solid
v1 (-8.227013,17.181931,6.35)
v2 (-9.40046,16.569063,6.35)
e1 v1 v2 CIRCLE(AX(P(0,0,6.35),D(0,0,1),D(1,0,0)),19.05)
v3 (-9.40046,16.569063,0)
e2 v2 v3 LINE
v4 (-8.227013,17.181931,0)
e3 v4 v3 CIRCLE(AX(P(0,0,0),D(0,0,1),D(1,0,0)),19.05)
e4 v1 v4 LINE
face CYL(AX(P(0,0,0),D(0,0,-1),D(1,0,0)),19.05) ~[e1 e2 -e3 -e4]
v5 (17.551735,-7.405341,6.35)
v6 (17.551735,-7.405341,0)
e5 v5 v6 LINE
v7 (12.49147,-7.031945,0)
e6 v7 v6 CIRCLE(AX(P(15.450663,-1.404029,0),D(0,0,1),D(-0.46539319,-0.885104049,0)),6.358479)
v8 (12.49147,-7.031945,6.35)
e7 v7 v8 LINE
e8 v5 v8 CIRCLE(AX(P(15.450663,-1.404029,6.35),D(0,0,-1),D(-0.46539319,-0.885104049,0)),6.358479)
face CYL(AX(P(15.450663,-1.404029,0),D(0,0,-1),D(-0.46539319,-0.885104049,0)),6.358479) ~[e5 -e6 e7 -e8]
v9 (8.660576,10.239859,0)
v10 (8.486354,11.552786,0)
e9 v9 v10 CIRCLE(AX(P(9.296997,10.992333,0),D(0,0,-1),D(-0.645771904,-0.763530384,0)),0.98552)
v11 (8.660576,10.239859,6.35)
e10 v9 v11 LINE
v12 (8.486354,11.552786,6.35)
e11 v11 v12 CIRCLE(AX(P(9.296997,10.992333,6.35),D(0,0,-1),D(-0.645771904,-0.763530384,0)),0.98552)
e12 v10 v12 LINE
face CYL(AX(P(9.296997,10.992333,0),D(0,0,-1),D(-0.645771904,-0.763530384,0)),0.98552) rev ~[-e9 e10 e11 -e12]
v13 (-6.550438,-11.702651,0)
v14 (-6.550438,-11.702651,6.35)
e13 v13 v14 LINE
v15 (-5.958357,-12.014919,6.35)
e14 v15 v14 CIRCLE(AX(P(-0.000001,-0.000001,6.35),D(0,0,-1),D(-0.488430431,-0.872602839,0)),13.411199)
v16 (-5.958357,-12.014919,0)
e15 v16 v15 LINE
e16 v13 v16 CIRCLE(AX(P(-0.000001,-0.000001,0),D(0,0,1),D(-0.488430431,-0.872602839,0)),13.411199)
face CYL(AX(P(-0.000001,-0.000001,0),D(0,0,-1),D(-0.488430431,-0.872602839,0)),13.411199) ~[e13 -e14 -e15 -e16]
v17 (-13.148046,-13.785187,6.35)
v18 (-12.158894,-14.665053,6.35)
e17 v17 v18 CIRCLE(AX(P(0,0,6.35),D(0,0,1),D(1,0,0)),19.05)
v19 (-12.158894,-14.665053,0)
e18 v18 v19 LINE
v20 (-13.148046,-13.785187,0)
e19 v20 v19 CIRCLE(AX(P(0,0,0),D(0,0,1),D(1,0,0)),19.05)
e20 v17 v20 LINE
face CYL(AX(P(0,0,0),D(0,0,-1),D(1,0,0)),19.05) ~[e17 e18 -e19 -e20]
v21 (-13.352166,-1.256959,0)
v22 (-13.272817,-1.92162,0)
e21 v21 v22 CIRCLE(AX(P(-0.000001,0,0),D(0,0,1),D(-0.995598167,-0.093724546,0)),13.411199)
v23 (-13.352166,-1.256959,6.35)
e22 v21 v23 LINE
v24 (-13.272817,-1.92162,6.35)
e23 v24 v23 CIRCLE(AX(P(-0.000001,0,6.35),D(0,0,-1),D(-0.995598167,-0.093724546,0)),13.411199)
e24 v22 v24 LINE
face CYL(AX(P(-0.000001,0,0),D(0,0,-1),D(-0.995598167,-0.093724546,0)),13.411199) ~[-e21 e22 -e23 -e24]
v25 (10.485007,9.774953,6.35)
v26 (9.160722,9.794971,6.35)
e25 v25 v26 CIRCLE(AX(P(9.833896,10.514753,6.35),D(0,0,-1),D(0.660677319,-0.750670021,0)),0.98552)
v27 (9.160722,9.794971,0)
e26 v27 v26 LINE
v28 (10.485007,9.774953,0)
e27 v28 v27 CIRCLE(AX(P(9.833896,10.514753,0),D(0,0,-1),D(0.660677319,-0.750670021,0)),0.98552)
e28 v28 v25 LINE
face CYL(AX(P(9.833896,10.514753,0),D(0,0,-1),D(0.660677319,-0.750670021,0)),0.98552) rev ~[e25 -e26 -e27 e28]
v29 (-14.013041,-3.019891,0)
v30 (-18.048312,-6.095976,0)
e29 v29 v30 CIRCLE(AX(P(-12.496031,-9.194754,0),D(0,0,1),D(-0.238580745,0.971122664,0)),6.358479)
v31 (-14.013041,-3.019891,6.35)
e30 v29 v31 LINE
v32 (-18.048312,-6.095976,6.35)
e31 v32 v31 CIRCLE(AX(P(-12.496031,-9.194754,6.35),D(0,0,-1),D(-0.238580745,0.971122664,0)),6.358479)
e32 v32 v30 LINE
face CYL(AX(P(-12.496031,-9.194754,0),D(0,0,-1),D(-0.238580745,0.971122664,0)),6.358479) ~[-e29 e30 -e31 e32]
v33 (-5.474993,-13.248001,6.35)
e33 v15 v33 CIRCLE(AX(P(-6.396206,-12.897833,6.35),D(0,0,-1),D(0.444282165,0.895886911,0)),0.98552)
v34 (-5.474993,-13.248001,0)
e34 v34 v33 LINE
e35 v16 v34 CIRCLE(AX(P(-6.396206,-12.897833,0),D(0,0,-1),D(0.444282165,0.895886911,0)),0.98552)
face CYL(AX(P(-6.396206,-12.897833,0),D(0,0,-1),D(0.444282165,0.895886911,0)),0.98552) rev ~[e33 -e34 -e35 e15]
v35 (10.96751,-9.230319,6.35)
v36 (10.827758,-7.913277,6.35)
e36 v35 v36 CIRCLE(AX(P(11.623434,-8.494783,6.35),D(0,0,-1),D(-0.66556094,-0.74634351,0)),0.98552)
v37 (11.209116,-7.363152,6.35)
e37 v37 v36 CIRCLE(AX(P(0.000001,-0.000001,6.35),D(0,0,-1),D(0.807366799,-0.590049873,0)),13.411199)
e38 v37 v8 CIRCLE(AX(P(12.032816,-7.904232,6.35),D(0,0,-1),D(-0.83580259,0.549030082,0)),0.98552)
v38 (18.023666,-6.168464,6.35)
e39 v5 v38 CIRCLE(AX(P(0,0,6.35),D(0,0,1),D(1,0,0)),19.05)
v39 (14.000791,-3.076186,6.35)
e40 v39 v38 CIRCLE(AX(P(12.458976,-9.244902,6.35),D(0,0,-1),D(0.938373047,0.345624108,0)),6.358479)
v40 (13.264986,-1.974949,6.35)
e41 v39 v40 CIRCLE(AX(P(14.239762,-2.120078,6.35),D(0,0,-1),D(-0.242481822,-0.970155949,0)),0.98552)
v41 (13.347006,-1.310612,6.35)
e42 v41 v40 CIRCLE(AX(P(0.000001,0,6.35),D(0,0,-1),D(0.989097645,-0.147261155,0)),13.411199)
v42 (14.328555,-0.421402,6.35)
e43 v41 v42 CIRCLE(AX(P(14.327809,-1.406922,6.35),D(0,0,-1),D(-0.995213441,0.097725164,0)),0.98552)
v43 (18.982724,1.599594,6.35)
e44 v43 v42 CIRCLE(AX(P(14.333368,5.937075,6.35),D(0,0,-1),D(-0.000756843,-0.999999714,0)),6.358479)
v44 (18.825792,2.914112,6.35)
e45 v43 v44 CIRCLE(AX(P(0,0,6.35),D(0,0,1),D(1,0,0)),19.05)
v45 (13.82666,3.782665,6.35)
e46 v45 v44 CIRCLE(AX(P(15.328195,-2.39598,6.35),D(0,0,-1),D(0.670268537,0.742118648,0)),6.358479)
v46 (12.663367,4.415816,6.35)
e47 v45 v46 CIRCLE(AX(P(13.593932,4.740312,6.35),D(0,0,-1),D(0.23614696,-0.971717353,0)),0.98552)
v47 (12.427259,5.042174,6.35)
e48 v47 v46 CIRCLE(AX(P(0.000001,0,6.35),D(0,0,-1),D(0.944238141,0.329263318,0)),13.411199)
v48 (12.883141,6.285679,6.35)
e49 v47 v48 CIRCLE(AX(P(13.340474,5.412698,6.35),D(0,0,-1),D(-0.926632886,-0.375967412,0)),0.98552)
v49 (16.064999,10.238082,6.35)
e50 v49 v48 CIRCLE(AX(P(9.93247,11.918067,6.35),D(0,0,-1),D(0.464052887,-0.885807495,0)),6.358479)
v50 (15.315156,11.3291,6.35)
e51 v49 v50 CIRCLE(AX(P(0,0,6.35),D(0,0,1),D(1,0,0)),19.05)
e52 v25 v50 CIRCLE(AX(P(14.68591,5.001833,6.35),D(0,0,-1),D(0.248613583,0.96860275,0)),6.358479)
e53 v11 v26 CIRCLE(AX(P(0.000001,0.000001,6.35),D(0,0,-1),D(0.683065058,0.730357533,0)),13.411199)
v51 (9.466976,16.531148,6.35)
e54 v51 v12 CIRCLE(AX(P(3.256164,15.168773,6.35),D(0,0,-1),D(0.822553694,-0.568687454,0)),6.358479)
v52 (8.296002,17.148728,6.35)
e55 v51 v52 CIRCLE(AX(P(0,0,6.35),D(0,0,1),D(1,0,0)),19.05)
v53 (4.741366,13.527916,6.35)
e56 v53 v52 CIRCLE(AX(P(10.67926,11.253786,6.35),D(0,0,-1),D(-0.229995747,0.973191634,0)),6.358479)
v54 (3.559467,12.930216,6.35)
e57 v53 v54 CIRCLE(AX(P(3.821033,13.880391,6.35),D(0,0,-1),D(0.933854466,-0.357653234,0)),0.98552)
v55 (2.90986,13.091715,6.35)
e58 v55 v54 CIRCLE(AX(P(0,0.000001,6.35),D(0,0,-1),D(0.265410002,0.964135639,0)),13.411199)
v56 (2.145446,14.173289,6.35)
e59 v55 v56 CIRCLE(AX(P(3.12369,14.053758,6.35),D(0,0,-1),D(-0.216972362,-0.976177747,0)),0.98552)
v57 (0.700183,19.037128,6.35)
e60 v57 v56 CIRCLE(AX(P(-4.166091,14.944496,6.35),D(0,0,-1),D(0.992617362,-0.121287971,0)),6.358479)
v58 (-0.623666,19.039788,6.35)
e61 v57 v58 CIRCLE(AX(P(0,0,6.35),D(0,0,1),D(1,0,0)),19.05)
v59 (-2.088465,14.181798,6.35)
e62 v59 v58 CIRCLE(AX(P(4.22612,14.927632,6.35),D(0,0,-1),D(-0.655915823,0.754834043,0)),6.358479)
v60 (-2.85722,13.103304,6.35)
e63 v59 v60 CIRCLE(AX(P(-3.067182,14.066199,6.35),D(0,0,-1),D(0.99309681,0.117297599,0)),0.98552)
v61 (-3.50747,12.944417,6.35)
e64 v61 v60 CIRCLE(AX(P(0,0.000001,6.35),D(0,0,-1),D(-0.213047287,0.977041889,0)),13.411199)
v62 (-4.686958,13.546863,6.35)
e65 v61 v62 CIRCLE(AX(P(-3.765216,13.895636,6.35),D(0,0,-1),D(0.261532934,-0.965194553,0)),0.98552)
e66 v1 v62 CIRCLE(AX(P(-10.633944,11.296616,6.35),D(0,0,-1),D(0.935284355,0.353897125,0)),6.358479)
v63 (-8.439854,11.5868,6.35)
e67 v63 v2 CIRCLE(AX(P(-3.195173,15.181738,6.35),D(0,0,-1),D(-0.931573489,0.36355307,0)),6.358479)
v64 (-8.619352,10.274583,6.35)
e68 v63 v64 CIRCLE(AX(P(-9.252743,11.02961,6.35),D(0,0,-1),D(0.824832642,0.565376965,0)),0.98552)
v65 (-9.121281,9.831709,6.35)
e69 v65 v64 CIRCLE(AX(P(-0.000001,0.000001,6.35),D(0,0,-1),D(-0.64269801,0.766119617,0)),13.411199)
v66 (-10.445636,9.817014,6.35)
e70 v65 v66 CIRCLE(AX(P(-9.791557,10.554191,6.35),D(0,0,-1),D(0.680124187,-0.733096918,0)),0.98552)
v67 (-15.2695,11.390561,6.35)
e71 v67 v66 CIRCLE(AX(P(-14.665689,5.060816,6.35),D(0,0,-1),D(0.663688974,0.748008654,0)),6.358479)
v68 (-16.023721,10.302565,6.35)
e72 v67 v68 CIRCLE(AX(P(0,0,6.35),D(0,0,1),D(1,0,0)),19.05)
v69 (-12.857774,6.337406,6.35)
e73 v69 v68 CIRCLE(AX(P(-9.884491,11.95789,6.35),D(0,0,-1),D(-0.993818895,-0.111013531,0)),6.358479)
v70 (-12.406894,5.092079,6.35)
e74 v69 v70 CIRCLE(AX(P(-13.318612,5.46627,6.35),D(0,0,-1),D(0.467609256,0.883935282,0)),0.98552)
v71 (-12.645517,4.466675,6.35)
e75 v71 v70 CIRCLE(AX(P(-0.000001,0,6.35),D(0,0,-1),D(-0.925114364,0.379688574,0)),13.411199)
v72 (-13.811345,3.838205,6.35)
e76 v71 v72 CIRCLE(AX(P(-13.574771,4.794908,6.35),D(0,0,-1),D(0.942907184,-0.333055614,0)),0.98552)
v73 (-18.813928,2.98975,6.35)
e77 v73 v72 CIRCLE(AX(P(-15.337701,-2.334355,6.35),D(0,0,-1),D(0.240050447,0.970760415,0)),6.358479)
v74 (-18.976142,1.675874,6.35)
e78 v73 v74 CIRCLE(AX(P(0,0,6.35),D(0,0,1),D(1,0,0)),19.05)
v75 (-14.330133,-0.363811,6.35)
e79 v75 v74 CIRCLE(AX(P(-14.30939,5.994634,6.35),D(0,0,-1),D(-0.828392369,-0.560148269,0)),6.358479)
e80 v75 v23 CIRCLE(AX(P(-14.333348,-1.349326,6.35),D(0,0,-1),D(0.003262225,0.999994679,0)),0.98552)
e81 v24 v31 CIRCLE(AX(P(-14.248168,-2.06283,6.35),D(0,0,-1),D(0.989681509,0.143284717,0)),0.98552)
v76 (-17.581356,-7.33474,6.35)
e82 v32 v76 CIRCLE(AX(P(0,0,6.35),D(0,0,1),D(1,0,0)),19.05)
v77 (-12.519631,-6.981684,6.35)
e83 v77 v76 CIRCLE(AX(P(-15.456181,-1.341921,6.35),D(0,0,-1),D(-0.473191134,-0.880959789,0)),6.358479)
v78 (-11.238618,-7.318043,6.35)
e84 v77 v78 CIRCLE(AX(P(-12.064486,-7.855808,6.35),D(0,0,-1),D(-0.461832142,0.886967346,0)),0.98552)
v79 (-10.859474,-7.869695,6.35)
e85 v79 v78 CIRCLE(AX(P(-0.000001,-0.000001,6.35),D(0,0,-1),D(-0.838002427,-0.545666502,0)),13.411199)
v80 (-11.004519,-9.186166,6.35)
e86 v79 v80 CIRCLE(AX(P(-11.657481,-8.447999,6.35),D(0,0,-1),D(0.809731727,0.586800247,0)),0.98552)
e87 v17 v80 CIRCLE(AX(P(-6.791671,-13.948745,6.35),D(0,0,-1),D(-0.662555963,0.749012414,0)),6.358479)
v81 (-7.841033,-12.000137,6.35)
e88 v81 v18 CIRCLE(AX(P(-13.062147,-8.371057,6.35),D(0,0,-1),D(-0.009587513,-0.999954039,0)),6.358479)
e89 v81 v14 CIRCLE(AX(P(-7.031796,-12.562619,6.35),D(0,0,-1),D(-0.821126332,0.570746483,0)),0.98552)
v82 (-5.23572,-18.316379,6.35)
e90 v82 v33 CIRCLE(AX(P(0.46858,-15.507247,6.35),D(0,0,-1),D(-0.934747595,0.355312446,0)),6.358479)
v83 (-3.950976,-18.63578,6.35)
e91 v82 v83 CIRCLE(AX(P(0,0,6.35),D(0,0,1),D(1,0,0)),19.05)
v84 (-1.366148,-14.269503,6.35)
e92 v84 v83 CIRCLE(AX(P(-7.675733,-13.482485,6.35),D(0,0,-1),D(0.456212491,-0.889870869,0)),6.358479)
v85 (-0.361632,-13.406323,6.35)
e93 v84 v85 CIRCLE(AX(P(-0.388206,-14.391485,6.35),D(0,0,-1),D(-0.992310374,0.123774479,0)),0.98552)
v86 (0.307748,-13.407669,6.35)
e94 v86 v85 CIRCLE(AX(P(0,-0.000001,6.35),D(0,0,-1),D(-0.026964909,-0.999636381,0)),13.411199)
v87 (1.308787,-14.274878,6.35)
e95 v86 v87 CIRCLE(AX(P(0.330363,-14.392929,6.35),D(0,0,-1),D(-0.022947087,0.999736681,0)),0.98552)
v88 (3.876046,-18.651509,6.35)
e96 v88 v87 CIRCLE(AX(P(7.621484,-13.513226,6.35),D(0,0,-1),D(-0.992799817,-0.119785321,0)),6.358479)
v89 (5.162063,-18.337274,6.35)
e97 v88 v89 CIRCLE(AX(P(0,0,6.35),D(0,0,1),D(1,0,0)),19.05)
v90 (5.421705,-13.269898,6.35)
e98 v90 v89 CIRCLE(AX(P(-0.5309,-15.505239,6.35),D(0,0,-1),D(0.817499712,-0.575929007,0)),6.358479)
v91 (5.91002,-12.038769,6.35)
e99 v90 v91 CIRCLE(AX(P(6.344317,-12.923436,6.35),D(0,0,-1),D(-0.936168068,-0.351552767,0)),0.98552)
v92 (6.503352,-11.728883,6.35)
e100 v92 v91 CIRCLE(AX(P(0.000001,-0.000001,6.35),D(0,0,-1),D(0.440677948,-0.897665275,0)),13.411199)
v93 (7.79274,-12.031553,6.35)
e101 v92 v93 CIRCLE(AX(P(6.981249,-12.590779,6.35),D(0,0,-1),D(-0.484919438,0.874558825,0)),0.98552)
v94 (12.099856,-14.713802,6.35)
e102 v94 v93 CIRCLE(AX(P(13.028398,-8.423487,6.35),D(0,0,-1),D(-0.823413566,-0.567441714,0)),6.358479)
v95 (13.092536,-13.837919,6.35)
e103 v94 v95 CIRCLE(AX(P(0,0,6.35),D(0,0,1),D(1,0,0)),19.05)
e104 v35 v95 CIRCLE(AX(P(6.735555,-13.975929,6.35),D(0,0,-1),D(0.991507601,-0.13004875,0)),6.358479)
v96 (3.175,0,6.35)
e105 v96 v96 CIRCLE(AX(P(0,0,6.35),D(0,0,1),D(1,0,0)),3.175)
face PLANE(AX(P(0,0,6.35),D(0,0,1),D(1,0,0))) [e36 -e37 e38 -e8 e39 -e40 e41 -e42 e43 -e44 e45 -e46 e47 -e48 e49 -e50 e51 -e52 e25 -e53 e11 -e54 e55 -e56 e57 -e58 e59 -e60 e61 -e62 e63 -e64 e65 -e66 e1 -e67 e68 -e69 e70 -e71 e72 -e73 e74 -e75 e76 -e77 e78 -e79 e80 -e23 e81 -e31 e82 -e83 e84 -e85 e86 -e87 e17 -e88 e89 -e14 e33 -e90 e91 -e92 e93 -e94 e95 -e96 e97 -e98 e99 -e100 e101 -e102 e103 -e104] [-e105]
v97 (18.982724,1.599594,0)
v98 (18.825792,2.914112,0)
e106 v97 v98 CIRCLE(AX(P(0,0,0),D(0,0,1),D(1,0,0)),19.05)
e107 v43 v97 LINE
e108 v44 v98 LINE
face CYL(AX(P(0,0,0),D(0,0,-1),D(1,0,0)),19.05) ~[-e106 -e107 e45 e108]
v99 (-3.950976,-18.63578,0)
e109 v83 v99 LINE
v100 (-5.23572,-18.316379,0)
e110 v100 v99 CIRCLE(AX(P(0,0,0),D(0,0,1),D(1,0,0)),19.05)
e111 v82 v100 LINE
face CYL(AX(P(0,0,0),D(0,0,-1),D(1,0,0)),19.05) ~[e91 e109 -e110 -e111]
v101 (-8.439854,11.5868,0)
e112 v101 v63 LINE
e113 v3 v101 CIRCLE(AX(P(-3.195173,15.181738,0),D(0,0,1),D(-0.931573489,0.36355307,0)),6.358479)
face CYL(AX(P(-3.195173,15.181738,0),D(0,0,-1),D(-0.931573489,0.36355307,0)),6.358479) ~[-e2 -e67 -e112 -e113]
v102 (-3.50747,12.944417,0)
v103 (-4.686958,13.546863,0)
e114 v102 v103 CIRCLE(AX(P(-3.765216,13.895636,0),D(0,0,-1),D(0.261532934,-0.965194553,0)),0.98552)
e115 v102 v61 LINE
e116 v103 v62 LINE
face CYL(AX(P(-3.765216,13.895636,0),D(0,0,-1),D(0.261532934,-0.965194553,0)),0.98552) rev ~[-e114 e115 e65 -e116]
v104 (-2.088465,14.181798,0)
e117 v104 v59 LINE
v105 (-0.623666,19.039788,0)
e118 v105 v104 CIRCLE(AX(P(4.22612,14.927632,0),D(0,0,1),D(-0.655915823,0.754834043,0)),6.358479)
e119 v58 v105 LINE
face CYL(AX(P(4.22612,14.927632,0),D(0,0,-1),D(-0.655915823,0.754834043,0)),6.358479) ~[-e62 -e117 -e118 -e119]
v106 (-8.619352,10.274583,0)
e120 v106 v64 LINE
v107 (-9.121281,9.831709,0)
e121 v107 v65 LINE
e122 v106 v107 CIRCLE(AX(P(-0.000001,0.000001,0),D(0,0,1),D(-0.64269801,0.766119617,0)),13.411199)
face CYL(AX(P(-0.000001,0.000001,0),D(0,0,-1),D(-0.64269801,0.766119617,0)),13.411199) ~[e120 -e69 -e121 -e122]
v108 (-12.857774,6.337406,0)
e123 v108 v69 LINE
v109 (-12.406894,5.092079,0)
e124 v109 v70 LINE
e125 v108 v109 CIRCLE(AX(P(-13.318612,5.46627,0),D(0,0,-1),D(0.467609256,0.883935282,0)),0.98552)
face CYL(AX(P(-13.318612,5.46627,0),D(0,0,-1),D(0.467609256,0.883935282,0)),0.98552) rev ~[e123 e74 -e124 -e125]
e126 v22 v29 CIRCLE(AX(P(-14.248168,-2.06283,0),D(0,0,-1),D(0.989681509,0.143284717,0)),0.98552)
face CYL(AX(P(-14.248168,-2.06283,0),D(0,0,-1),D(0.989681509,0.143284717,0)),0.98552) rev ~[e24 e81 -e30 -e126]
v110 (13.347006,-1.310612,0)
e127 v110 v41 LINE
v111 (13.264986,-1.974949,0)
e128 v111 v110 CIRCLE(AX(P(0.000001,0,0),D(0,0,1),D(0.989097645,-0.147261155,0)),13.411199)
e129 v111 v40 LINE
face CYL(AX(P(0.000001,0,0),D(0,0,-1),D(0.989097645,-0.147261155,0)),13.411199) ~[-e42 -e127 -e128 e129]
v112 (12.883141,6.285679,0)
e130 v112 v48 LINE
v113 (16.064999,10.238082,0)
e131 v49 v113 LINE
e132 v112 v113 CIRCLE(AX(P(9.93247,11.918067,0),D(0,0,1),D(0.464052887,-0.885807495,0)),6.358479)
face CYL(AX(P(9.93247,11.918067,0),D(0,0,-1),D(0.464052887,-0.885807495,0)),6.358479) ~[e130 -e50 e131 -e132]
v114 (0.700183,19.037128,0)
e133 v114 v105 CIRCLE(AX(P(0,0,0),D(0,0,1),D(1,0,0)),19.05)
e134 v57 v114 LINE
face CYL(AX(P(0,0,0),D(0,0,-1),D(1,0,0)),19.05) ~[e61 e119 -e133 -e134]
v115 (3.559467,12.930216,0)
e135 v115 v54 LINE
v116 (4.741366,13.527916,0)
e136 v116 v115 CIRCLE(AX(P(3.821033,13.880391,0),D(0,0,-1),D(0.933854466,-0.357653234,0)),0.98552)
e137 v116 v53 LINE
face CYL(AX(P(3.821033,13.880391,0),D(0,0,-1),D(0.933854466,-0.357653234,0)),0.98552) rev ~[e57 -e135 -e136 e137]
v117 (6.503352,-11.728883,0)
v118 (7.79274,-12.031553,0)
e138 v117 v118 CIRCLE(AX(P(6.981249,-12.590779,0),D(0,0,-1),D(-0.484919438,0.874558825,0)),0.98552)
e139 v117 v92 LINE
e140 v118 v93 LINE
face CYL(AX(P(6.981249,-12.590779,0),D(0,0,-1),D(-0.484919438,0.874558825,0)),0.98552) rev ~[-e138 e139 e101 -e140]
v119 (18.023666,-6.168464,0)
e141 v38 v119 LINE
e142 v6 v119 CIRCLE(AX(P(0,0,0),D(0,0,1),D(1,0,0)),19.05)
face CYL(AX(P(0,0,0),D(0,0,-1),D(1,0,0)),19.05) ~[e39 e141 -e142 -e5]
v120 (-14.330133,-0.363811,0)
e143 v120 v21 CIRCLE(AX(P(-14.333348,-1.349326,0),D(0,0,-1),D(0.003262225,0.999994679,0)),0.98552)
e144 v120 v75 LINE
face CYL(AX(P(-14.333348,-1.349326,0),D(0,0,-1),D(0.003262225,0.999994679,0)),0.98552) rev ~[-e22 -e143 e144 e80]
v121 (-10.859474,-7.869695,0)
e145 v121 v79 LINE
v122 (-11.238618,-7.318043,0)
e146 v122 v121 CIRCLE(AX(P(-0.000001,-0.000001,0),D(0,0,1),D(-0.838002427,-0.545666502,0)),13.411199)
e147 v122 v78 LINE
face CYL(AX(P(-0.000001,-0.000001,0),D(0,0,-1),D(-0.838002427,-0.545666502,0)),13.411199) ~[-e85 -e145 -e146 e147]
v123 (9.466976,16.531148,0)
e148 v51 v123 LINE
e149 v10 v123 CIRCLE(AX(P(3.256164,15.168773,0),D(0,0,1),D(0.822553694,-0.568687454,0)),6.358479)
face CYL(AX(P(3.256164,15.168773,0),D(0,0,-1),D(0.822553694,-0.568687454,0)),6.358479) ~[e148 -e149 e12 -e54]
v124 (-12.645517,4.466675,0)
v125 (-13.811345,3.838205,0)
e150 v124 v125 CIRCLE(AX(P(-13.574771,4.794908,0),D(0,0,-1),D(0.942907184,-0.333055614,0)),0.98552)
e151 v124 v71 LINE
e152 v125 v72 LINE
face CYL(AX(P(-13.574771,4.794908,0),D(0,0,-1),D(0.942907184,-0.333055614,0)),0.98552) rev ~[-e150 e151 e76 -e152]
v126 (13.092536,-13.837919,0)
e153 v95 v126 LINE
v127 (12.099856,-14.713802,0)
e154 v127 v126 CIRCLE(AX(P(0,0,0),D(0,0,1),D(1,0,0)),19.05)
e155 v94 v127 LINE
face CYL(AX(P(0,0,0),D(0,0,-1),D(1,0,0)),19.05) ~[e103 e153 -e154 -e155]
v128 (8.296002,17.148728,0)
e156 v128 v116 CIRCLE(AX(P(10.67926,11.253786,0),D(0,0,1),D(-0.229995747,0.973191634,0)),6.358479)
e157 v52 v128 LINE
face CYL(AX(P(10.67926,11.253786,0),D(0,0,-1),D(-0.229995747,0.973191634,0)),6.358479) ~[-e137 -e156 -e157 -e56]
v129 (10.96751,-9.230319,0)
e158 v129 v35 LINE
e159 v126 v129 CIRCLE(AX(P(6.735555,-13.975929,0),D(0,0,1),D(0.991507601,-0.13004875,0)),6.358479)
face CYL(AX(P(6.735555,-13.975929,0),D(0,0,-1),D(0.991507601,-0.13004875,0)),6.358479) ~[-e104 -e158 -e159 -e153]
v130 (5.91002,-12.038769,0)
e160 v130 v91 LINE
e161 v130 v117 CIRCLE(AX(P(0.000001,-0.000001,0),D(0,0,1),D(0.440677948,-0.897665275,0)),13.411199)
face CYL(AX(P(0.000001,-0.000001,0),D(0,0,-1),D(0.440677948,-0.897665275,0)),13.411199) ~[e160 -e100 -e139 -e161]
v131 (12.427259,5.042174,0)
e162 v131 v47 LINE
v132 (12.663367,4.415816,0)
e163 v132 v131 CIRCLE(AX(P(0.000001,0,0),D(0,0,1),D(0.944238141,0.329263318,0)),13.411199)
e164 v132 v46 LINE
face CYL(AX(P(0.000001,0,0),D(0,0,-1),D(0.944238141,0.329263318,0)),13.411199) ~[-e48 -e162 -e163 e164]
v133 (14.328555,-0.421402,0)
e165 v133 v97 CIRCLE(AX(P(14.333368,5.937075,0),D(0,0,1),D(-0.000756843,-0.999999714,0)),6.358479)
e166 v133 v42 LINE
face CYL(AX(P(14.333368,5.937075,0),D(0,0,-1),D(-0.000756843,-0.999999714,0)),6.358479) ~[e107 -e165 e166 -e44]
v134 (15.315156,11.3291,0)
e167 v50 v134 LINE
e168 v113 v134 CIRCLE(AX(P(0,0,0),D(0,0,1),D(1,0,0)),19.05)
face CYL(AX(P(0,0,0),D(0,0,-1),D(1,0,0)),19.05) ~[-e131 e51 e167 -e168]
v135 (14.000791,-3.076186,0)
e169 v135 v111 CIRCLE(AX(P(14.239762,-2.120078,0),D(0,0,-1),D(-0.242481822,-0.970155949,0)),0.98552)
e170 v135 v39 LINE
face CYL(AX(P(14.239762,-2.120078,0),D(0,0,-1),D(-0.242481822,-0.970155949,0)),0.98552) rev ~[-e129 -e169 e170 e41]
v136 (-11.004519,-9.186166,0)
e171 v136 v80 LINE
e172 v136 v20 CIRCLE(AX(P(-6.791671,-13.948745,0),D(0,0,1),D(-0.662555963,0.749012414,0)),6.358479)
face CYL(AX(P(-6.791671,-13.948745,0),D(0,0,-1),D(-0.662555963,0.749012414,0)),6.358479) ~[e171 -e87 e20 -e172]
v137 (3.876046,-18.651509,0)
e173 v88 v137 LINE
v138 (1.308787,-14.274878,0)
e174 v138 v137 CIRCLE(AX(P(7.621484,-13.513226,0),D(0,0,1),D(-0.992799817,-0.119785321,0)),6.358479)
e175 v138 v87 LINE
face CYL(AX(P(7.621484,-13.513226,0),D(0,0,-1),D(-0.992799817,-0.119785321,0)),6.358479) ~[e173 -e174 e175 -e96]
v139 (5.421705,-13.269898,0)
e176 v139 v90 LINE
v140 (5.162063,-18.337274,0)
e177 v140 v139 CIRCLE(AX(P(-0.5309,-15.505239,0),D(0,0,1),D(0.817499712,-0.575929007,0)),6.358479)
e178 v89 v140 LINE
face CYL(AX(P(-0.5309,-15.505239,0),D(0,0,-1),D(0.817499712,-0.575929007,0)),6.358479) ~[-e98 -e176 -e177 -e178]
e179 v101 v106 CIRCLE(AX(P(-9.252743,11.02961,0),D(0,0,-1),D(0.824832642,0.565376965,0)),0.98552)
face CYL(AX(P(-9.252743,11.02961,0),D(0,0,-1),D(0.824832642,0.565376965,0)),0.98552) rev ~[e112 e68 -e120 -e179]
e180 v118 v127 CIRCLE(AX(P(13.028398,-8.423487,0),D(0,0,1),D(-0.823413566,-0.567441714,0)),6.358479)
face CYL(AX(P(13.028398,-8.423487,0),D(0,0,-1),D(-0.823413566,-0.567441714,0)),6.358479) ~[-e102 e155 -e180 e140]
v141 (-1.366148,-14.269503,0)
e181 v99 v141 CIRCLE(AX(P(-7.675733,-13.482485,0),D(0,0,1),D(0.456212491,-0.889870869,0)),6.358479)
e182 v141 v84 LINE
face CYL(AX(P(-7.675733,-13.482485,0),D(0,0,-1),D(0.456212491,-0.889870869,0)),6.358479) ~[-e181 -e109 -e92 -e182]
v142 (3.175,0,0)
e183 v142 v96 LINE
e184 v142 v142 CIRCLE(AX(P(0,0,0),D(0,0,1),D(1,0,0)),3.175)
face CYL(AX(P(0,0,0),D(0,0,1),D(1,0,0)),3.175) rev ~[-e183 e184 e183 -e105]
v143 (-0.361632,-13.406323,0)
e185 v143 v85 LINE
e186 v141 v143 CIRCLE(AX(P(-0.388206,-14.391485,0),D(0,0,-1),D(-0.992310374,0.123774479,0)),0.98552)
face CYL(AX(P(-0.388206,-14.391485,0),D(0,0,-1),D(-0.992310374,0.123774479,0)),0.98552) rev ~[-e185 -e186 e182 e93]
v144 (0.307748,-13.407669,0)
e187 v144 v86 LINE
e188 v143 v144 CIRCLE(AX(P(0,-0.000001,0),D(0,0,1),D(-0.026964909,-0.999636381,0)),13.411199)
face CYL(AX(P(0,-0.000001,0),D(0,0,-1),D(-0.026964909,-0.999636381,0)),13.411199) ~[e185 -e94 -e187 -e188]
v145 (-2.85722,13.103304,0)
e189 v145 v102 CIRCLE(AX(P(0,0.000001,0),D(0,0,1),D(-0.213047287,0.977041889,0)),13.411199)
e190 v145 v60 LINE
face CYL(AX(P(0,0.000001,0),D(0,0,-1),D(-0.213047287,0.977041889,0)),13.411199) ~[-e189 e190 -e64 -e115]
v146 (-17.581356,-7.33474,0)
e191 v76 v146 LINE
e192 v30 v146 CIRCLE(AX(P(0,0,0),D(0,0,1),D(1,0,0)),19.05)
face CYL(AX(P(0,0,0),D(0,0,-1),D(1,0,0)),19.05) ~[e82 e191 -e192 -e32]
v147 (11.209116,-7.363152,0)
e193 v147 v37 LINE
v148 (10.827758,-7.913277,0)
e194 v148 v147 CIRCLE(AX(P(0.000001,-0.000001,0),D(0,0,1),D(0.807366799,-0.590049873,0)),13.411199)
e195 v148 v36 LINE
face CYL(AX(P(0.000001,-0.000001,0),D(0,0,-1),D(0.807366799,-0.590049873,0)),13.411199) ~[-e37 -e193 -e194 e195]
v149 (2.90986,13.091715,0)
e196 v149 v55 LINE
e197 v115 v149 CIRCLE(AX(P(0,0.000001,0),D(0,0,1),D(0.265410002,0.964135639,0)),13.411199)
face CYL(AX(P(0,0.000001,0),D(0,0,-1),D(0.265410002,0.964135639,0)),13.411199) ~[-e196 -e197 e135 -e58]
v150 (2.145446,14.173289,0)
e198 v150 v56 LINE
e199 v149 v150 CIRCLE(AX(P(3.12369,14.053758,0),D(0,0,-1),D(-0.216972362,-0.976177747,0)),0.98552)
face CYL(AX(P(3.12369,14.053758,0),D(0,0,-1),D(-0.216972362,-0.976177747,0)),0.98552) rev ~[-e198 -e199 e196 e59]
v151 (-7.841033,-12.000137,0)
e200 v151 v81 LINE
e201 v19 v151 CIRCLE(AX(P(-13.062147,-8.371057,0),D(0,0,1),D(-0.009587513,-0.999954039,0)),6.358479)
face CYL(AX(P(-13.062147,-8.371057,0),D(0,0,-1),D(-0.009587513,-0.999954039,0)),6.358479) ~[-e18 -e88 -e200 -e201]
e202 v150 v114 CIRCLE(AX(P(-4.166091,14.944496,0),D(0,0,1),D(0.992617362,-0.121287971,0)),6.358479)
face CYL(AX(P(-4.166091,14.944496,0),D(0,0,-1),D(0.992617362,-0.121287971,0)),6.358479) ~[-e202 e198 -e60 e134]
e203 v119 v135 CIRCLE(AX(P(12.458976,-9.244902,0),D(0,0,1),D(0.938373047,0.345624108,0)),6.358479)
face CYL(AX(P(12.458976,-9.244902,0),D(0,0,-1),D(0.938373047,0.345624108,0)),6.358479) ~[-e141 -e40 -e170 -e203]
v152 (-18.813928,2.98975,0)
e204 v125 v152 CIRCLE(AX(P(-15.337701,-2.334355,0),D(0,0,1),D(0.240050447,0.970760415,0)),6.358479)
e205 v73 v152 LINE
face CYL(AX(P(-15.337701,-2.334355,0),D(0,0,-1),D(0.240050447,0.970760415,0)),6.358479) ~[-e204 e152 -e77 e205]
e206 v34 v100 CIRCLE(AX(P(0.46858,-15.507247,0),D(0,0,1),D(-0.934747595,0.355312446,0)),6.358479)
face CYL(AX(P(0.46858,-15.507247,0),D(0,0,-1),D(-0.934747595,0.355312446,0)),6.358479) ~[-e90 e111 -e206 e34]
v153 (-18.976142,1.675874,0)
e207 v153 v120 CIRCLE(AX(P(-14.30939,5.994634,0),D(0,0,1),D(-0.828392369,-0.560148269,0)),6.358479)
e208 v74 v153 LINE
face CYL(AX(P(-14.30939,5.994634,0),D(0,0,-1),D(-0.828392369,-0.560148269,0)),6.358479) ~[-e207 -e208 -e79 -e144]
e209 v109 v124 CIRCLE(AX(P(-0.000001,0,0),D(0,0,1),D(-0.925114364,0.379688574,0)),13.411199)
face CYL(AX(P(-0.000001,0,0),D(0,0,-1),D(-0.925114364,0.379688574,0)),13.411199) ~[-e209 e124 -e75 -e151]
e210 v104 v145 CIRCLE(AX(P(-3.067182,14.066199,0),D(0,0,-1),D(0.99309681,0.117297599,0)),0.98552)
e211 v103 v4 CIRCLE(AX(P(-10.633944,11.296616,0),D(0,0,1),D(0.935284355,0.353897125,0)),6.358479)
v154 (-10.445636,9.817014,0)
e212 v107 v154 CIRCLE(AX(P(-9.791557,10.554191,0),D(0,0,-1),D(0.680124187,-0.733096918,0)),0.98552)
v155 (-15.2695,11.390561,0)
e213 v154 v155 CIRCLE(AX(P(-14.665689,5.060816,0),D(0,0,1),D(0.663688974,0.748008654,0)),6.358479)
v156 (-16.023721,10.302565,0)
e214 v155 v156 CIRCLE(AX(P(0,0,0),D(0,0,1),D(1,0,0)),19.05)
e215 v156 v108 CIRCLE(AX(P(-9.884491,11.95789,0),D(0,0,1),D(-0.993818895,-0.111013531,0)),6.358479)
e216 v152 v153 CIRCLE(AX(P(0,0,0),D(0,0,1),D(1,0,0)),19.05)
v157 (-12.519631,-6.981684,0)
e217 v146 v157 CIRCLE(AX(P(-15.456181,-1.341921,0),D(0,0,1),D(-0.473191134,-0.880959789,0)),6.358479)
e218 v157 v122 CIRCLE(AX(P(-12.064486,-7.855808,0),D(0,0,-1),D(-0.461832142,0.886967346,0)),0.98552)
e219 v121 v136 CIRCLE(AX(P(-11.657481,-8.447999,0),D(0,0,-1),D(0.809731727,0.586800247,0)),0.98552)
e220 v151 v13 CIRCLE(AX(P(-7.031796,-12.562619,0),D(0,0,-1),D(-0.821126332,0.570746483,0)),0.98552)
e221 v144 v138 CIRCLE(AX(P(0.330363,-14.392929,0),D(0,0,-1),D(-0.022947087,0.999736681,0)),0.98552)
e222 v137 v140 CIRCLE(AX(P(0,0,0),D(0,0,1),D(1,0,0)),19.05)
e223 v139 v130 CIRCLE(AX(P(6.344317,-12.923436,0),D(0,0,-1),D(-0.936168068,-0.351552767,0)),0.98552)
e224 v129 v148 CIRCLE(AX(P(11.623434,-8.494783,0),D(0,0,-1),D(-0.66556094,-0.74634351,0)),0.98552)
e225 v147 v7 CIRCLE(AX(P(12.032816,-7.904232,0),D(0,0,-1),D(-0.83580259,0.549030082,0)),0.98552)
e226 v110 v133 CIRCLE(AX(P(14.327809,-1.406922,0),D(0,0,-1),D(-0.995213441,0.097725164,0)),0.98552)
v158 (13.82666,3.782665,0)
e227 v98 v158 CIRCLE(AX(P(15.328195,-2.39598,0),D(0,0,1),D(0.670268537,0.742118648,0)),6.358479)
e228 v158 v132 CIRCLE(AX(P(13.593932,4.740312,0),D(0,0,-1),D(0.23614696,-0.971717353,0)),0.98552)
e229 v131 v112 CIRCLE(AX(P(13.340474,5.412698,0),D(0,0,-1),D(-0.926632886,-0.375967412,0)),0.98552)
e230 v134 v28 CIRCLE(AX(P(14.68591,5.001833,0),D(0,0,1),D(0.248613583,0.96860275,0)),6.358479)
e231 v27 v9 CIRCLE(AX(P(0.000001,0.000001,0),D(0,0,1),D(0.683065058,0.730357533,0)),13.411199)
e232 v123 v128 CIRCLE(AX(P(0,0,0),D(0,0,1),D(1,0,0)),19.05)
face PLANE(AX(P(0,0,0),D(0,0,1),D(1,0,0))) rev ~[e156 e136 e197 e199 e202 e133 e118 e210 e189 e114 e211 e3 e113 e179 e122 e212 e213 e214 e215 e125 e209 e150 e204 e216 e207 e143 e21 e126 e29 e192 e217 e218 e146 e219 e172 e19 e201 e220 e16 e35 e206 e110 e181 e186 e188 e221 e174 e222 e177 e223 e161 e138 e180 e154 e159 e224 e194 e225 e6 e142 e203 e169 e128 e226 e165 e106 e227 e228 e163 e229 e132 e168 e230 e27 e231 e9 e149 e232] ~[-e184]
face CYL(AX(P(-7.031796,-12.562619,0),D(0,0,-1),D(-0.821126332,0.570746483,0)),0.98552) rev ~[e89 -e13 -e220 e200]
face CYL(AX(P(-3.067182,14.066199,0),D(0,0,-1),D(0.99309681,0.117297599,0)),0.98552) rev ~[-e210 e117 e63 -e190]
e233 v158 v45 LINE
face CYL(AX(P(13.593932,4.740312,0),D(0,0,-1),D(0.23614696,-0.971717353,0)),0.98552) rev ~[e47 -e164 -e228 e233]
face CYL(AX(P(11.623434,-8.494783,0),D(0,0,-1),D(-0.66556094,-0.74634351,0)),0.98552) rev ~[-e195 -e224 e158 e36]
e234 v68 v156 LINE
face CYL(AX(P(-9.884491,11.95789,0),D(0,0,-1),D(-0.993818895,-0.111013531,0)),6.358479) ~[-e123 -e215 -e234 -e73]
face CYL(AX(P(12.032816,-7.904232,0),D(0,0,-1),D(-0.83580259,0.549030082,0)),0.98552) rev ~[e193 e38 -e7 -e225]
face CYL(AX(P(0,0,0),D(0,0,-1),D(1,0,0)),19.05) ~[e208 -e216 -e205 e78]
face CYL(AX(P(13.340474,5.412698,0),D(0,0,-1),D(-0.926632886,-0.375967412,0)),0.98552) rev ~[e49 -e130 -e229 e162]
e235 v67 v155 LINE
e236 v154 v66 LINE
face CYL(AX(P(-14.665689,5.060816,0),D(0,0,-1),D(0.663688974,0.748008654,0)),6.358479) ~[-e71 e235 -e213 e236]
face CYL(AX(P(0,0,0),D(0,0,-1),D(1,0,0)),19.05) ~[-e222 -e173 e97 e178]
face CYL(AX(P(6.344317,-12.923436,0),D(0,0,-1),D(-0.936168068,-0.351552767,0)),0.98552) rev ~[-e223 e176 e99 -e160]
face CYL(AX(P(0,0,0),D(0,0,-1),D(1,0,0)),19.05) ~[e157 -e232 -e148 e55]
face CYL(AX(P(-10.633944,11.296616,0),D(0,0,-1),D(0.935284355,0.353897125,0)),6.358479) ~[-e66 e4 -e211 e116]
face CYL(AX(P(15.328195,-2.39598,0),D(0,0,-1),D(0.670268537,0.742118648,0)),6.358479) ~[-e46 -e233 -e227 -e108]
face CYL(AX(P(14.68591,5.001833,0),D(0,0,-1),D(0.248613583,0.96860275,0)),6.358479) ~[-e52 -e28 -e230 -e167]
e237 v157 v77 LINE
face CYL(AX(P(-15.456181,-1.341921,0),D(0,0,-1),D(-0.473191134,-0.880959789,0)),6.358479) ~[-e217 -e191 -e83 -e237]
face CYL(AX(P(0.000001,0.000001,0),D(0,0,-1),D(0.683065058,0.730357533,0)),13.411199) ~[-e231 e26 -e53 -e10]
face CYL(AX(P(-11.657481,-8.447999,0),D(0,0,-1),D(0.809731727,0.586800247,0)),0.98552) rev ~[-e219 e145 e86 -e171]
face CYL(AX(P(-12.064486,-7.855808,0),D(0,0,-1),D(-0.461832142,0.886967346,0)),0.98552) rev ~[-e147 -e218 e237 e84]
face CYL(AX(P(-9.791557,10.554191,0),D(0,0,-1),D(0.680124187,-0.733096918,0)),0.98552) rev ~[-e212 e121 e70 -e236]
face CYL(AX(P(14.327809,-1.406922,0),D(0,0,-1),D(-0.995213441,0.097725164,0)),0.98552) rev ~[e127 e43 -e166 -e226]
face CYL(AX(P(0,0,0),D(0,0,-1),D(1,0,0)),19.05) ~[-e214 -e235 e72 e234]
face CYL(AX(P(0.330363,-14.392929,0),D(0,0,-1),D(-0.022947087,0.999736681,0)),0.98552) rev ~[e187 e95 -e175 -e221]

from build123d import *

# Parameters (mm, degrees)
SKETCH3_R         = 19.05
GEARBODY_DEPTH    = 6.35
TOOTHCUT_DEPTH    = 28.679008291
CIRPATTERN1_COUNT = 13
BOREDIA_R         = 3.175
BORE_DEPTH        = 12700


with BuildPart() as part:
    # Sketch3 → gearBody (new body)
    with BuildSketch(Plane.XY):
        Circle(SKETCH3_R)
    extrude(amount=GEARBODY_DEPTH)

    # Sketch2 → toothCut (cut, through all)
    with BuildSketch(Plane.XY):
        with BuildLine():
            ThreePointArc((13.264986348, -1.974948763), (13.310141874, -1.643292044), (13.347006495, -1.310611715))
            ThreePointArc((13.347006495, -1.310611715), (13.666143695, -0.676546319), (14.328555129, -0.421402101))
            ThreePointArc((14.328555129, -0.421402101), (17.301836936, 0.31404702), (19.586325857, 2.354243209))
            ThreePointArc((19.586325857, 2.354243209), (19.578654279, -2.417212912), (18.425600989, -7.04725832))
            ThreePointArc((18.425600989, -7.04725832), (16.705918728, -4.512700561), (14.000791176, -3.076185665))
            ThreePointArc((14.000791176, -3.076185665), (13.420325691, -2.667593815), (13.264986348, -1.974948763))
        make_face()
    toothcut = extrude(amount=TOOTHCUT_DEPTH, mode=Mode.SUBTRACT)

    # CirPattern1: toothCut ×13 about axis
    cirpattern1_axis = Axis((0, 0, 0), (0, 0, 1))
    for i in range(1, CIRPATTERN1_COUNT):
        add(toothcut.rotate(cirpattern1_axis, i * 360 / CIRPATTERN1_COUNT), mode=Mode.SUBTRACT)

    # boreDia → bore (cut, symmetric)
    with BuildSketch(Plane.XY):
        Circle(BOREDIA_R)
    extrude(amount=BORE_DEPTH, both=True, mode=Mode.SUBTRACT)


solid = part.part
